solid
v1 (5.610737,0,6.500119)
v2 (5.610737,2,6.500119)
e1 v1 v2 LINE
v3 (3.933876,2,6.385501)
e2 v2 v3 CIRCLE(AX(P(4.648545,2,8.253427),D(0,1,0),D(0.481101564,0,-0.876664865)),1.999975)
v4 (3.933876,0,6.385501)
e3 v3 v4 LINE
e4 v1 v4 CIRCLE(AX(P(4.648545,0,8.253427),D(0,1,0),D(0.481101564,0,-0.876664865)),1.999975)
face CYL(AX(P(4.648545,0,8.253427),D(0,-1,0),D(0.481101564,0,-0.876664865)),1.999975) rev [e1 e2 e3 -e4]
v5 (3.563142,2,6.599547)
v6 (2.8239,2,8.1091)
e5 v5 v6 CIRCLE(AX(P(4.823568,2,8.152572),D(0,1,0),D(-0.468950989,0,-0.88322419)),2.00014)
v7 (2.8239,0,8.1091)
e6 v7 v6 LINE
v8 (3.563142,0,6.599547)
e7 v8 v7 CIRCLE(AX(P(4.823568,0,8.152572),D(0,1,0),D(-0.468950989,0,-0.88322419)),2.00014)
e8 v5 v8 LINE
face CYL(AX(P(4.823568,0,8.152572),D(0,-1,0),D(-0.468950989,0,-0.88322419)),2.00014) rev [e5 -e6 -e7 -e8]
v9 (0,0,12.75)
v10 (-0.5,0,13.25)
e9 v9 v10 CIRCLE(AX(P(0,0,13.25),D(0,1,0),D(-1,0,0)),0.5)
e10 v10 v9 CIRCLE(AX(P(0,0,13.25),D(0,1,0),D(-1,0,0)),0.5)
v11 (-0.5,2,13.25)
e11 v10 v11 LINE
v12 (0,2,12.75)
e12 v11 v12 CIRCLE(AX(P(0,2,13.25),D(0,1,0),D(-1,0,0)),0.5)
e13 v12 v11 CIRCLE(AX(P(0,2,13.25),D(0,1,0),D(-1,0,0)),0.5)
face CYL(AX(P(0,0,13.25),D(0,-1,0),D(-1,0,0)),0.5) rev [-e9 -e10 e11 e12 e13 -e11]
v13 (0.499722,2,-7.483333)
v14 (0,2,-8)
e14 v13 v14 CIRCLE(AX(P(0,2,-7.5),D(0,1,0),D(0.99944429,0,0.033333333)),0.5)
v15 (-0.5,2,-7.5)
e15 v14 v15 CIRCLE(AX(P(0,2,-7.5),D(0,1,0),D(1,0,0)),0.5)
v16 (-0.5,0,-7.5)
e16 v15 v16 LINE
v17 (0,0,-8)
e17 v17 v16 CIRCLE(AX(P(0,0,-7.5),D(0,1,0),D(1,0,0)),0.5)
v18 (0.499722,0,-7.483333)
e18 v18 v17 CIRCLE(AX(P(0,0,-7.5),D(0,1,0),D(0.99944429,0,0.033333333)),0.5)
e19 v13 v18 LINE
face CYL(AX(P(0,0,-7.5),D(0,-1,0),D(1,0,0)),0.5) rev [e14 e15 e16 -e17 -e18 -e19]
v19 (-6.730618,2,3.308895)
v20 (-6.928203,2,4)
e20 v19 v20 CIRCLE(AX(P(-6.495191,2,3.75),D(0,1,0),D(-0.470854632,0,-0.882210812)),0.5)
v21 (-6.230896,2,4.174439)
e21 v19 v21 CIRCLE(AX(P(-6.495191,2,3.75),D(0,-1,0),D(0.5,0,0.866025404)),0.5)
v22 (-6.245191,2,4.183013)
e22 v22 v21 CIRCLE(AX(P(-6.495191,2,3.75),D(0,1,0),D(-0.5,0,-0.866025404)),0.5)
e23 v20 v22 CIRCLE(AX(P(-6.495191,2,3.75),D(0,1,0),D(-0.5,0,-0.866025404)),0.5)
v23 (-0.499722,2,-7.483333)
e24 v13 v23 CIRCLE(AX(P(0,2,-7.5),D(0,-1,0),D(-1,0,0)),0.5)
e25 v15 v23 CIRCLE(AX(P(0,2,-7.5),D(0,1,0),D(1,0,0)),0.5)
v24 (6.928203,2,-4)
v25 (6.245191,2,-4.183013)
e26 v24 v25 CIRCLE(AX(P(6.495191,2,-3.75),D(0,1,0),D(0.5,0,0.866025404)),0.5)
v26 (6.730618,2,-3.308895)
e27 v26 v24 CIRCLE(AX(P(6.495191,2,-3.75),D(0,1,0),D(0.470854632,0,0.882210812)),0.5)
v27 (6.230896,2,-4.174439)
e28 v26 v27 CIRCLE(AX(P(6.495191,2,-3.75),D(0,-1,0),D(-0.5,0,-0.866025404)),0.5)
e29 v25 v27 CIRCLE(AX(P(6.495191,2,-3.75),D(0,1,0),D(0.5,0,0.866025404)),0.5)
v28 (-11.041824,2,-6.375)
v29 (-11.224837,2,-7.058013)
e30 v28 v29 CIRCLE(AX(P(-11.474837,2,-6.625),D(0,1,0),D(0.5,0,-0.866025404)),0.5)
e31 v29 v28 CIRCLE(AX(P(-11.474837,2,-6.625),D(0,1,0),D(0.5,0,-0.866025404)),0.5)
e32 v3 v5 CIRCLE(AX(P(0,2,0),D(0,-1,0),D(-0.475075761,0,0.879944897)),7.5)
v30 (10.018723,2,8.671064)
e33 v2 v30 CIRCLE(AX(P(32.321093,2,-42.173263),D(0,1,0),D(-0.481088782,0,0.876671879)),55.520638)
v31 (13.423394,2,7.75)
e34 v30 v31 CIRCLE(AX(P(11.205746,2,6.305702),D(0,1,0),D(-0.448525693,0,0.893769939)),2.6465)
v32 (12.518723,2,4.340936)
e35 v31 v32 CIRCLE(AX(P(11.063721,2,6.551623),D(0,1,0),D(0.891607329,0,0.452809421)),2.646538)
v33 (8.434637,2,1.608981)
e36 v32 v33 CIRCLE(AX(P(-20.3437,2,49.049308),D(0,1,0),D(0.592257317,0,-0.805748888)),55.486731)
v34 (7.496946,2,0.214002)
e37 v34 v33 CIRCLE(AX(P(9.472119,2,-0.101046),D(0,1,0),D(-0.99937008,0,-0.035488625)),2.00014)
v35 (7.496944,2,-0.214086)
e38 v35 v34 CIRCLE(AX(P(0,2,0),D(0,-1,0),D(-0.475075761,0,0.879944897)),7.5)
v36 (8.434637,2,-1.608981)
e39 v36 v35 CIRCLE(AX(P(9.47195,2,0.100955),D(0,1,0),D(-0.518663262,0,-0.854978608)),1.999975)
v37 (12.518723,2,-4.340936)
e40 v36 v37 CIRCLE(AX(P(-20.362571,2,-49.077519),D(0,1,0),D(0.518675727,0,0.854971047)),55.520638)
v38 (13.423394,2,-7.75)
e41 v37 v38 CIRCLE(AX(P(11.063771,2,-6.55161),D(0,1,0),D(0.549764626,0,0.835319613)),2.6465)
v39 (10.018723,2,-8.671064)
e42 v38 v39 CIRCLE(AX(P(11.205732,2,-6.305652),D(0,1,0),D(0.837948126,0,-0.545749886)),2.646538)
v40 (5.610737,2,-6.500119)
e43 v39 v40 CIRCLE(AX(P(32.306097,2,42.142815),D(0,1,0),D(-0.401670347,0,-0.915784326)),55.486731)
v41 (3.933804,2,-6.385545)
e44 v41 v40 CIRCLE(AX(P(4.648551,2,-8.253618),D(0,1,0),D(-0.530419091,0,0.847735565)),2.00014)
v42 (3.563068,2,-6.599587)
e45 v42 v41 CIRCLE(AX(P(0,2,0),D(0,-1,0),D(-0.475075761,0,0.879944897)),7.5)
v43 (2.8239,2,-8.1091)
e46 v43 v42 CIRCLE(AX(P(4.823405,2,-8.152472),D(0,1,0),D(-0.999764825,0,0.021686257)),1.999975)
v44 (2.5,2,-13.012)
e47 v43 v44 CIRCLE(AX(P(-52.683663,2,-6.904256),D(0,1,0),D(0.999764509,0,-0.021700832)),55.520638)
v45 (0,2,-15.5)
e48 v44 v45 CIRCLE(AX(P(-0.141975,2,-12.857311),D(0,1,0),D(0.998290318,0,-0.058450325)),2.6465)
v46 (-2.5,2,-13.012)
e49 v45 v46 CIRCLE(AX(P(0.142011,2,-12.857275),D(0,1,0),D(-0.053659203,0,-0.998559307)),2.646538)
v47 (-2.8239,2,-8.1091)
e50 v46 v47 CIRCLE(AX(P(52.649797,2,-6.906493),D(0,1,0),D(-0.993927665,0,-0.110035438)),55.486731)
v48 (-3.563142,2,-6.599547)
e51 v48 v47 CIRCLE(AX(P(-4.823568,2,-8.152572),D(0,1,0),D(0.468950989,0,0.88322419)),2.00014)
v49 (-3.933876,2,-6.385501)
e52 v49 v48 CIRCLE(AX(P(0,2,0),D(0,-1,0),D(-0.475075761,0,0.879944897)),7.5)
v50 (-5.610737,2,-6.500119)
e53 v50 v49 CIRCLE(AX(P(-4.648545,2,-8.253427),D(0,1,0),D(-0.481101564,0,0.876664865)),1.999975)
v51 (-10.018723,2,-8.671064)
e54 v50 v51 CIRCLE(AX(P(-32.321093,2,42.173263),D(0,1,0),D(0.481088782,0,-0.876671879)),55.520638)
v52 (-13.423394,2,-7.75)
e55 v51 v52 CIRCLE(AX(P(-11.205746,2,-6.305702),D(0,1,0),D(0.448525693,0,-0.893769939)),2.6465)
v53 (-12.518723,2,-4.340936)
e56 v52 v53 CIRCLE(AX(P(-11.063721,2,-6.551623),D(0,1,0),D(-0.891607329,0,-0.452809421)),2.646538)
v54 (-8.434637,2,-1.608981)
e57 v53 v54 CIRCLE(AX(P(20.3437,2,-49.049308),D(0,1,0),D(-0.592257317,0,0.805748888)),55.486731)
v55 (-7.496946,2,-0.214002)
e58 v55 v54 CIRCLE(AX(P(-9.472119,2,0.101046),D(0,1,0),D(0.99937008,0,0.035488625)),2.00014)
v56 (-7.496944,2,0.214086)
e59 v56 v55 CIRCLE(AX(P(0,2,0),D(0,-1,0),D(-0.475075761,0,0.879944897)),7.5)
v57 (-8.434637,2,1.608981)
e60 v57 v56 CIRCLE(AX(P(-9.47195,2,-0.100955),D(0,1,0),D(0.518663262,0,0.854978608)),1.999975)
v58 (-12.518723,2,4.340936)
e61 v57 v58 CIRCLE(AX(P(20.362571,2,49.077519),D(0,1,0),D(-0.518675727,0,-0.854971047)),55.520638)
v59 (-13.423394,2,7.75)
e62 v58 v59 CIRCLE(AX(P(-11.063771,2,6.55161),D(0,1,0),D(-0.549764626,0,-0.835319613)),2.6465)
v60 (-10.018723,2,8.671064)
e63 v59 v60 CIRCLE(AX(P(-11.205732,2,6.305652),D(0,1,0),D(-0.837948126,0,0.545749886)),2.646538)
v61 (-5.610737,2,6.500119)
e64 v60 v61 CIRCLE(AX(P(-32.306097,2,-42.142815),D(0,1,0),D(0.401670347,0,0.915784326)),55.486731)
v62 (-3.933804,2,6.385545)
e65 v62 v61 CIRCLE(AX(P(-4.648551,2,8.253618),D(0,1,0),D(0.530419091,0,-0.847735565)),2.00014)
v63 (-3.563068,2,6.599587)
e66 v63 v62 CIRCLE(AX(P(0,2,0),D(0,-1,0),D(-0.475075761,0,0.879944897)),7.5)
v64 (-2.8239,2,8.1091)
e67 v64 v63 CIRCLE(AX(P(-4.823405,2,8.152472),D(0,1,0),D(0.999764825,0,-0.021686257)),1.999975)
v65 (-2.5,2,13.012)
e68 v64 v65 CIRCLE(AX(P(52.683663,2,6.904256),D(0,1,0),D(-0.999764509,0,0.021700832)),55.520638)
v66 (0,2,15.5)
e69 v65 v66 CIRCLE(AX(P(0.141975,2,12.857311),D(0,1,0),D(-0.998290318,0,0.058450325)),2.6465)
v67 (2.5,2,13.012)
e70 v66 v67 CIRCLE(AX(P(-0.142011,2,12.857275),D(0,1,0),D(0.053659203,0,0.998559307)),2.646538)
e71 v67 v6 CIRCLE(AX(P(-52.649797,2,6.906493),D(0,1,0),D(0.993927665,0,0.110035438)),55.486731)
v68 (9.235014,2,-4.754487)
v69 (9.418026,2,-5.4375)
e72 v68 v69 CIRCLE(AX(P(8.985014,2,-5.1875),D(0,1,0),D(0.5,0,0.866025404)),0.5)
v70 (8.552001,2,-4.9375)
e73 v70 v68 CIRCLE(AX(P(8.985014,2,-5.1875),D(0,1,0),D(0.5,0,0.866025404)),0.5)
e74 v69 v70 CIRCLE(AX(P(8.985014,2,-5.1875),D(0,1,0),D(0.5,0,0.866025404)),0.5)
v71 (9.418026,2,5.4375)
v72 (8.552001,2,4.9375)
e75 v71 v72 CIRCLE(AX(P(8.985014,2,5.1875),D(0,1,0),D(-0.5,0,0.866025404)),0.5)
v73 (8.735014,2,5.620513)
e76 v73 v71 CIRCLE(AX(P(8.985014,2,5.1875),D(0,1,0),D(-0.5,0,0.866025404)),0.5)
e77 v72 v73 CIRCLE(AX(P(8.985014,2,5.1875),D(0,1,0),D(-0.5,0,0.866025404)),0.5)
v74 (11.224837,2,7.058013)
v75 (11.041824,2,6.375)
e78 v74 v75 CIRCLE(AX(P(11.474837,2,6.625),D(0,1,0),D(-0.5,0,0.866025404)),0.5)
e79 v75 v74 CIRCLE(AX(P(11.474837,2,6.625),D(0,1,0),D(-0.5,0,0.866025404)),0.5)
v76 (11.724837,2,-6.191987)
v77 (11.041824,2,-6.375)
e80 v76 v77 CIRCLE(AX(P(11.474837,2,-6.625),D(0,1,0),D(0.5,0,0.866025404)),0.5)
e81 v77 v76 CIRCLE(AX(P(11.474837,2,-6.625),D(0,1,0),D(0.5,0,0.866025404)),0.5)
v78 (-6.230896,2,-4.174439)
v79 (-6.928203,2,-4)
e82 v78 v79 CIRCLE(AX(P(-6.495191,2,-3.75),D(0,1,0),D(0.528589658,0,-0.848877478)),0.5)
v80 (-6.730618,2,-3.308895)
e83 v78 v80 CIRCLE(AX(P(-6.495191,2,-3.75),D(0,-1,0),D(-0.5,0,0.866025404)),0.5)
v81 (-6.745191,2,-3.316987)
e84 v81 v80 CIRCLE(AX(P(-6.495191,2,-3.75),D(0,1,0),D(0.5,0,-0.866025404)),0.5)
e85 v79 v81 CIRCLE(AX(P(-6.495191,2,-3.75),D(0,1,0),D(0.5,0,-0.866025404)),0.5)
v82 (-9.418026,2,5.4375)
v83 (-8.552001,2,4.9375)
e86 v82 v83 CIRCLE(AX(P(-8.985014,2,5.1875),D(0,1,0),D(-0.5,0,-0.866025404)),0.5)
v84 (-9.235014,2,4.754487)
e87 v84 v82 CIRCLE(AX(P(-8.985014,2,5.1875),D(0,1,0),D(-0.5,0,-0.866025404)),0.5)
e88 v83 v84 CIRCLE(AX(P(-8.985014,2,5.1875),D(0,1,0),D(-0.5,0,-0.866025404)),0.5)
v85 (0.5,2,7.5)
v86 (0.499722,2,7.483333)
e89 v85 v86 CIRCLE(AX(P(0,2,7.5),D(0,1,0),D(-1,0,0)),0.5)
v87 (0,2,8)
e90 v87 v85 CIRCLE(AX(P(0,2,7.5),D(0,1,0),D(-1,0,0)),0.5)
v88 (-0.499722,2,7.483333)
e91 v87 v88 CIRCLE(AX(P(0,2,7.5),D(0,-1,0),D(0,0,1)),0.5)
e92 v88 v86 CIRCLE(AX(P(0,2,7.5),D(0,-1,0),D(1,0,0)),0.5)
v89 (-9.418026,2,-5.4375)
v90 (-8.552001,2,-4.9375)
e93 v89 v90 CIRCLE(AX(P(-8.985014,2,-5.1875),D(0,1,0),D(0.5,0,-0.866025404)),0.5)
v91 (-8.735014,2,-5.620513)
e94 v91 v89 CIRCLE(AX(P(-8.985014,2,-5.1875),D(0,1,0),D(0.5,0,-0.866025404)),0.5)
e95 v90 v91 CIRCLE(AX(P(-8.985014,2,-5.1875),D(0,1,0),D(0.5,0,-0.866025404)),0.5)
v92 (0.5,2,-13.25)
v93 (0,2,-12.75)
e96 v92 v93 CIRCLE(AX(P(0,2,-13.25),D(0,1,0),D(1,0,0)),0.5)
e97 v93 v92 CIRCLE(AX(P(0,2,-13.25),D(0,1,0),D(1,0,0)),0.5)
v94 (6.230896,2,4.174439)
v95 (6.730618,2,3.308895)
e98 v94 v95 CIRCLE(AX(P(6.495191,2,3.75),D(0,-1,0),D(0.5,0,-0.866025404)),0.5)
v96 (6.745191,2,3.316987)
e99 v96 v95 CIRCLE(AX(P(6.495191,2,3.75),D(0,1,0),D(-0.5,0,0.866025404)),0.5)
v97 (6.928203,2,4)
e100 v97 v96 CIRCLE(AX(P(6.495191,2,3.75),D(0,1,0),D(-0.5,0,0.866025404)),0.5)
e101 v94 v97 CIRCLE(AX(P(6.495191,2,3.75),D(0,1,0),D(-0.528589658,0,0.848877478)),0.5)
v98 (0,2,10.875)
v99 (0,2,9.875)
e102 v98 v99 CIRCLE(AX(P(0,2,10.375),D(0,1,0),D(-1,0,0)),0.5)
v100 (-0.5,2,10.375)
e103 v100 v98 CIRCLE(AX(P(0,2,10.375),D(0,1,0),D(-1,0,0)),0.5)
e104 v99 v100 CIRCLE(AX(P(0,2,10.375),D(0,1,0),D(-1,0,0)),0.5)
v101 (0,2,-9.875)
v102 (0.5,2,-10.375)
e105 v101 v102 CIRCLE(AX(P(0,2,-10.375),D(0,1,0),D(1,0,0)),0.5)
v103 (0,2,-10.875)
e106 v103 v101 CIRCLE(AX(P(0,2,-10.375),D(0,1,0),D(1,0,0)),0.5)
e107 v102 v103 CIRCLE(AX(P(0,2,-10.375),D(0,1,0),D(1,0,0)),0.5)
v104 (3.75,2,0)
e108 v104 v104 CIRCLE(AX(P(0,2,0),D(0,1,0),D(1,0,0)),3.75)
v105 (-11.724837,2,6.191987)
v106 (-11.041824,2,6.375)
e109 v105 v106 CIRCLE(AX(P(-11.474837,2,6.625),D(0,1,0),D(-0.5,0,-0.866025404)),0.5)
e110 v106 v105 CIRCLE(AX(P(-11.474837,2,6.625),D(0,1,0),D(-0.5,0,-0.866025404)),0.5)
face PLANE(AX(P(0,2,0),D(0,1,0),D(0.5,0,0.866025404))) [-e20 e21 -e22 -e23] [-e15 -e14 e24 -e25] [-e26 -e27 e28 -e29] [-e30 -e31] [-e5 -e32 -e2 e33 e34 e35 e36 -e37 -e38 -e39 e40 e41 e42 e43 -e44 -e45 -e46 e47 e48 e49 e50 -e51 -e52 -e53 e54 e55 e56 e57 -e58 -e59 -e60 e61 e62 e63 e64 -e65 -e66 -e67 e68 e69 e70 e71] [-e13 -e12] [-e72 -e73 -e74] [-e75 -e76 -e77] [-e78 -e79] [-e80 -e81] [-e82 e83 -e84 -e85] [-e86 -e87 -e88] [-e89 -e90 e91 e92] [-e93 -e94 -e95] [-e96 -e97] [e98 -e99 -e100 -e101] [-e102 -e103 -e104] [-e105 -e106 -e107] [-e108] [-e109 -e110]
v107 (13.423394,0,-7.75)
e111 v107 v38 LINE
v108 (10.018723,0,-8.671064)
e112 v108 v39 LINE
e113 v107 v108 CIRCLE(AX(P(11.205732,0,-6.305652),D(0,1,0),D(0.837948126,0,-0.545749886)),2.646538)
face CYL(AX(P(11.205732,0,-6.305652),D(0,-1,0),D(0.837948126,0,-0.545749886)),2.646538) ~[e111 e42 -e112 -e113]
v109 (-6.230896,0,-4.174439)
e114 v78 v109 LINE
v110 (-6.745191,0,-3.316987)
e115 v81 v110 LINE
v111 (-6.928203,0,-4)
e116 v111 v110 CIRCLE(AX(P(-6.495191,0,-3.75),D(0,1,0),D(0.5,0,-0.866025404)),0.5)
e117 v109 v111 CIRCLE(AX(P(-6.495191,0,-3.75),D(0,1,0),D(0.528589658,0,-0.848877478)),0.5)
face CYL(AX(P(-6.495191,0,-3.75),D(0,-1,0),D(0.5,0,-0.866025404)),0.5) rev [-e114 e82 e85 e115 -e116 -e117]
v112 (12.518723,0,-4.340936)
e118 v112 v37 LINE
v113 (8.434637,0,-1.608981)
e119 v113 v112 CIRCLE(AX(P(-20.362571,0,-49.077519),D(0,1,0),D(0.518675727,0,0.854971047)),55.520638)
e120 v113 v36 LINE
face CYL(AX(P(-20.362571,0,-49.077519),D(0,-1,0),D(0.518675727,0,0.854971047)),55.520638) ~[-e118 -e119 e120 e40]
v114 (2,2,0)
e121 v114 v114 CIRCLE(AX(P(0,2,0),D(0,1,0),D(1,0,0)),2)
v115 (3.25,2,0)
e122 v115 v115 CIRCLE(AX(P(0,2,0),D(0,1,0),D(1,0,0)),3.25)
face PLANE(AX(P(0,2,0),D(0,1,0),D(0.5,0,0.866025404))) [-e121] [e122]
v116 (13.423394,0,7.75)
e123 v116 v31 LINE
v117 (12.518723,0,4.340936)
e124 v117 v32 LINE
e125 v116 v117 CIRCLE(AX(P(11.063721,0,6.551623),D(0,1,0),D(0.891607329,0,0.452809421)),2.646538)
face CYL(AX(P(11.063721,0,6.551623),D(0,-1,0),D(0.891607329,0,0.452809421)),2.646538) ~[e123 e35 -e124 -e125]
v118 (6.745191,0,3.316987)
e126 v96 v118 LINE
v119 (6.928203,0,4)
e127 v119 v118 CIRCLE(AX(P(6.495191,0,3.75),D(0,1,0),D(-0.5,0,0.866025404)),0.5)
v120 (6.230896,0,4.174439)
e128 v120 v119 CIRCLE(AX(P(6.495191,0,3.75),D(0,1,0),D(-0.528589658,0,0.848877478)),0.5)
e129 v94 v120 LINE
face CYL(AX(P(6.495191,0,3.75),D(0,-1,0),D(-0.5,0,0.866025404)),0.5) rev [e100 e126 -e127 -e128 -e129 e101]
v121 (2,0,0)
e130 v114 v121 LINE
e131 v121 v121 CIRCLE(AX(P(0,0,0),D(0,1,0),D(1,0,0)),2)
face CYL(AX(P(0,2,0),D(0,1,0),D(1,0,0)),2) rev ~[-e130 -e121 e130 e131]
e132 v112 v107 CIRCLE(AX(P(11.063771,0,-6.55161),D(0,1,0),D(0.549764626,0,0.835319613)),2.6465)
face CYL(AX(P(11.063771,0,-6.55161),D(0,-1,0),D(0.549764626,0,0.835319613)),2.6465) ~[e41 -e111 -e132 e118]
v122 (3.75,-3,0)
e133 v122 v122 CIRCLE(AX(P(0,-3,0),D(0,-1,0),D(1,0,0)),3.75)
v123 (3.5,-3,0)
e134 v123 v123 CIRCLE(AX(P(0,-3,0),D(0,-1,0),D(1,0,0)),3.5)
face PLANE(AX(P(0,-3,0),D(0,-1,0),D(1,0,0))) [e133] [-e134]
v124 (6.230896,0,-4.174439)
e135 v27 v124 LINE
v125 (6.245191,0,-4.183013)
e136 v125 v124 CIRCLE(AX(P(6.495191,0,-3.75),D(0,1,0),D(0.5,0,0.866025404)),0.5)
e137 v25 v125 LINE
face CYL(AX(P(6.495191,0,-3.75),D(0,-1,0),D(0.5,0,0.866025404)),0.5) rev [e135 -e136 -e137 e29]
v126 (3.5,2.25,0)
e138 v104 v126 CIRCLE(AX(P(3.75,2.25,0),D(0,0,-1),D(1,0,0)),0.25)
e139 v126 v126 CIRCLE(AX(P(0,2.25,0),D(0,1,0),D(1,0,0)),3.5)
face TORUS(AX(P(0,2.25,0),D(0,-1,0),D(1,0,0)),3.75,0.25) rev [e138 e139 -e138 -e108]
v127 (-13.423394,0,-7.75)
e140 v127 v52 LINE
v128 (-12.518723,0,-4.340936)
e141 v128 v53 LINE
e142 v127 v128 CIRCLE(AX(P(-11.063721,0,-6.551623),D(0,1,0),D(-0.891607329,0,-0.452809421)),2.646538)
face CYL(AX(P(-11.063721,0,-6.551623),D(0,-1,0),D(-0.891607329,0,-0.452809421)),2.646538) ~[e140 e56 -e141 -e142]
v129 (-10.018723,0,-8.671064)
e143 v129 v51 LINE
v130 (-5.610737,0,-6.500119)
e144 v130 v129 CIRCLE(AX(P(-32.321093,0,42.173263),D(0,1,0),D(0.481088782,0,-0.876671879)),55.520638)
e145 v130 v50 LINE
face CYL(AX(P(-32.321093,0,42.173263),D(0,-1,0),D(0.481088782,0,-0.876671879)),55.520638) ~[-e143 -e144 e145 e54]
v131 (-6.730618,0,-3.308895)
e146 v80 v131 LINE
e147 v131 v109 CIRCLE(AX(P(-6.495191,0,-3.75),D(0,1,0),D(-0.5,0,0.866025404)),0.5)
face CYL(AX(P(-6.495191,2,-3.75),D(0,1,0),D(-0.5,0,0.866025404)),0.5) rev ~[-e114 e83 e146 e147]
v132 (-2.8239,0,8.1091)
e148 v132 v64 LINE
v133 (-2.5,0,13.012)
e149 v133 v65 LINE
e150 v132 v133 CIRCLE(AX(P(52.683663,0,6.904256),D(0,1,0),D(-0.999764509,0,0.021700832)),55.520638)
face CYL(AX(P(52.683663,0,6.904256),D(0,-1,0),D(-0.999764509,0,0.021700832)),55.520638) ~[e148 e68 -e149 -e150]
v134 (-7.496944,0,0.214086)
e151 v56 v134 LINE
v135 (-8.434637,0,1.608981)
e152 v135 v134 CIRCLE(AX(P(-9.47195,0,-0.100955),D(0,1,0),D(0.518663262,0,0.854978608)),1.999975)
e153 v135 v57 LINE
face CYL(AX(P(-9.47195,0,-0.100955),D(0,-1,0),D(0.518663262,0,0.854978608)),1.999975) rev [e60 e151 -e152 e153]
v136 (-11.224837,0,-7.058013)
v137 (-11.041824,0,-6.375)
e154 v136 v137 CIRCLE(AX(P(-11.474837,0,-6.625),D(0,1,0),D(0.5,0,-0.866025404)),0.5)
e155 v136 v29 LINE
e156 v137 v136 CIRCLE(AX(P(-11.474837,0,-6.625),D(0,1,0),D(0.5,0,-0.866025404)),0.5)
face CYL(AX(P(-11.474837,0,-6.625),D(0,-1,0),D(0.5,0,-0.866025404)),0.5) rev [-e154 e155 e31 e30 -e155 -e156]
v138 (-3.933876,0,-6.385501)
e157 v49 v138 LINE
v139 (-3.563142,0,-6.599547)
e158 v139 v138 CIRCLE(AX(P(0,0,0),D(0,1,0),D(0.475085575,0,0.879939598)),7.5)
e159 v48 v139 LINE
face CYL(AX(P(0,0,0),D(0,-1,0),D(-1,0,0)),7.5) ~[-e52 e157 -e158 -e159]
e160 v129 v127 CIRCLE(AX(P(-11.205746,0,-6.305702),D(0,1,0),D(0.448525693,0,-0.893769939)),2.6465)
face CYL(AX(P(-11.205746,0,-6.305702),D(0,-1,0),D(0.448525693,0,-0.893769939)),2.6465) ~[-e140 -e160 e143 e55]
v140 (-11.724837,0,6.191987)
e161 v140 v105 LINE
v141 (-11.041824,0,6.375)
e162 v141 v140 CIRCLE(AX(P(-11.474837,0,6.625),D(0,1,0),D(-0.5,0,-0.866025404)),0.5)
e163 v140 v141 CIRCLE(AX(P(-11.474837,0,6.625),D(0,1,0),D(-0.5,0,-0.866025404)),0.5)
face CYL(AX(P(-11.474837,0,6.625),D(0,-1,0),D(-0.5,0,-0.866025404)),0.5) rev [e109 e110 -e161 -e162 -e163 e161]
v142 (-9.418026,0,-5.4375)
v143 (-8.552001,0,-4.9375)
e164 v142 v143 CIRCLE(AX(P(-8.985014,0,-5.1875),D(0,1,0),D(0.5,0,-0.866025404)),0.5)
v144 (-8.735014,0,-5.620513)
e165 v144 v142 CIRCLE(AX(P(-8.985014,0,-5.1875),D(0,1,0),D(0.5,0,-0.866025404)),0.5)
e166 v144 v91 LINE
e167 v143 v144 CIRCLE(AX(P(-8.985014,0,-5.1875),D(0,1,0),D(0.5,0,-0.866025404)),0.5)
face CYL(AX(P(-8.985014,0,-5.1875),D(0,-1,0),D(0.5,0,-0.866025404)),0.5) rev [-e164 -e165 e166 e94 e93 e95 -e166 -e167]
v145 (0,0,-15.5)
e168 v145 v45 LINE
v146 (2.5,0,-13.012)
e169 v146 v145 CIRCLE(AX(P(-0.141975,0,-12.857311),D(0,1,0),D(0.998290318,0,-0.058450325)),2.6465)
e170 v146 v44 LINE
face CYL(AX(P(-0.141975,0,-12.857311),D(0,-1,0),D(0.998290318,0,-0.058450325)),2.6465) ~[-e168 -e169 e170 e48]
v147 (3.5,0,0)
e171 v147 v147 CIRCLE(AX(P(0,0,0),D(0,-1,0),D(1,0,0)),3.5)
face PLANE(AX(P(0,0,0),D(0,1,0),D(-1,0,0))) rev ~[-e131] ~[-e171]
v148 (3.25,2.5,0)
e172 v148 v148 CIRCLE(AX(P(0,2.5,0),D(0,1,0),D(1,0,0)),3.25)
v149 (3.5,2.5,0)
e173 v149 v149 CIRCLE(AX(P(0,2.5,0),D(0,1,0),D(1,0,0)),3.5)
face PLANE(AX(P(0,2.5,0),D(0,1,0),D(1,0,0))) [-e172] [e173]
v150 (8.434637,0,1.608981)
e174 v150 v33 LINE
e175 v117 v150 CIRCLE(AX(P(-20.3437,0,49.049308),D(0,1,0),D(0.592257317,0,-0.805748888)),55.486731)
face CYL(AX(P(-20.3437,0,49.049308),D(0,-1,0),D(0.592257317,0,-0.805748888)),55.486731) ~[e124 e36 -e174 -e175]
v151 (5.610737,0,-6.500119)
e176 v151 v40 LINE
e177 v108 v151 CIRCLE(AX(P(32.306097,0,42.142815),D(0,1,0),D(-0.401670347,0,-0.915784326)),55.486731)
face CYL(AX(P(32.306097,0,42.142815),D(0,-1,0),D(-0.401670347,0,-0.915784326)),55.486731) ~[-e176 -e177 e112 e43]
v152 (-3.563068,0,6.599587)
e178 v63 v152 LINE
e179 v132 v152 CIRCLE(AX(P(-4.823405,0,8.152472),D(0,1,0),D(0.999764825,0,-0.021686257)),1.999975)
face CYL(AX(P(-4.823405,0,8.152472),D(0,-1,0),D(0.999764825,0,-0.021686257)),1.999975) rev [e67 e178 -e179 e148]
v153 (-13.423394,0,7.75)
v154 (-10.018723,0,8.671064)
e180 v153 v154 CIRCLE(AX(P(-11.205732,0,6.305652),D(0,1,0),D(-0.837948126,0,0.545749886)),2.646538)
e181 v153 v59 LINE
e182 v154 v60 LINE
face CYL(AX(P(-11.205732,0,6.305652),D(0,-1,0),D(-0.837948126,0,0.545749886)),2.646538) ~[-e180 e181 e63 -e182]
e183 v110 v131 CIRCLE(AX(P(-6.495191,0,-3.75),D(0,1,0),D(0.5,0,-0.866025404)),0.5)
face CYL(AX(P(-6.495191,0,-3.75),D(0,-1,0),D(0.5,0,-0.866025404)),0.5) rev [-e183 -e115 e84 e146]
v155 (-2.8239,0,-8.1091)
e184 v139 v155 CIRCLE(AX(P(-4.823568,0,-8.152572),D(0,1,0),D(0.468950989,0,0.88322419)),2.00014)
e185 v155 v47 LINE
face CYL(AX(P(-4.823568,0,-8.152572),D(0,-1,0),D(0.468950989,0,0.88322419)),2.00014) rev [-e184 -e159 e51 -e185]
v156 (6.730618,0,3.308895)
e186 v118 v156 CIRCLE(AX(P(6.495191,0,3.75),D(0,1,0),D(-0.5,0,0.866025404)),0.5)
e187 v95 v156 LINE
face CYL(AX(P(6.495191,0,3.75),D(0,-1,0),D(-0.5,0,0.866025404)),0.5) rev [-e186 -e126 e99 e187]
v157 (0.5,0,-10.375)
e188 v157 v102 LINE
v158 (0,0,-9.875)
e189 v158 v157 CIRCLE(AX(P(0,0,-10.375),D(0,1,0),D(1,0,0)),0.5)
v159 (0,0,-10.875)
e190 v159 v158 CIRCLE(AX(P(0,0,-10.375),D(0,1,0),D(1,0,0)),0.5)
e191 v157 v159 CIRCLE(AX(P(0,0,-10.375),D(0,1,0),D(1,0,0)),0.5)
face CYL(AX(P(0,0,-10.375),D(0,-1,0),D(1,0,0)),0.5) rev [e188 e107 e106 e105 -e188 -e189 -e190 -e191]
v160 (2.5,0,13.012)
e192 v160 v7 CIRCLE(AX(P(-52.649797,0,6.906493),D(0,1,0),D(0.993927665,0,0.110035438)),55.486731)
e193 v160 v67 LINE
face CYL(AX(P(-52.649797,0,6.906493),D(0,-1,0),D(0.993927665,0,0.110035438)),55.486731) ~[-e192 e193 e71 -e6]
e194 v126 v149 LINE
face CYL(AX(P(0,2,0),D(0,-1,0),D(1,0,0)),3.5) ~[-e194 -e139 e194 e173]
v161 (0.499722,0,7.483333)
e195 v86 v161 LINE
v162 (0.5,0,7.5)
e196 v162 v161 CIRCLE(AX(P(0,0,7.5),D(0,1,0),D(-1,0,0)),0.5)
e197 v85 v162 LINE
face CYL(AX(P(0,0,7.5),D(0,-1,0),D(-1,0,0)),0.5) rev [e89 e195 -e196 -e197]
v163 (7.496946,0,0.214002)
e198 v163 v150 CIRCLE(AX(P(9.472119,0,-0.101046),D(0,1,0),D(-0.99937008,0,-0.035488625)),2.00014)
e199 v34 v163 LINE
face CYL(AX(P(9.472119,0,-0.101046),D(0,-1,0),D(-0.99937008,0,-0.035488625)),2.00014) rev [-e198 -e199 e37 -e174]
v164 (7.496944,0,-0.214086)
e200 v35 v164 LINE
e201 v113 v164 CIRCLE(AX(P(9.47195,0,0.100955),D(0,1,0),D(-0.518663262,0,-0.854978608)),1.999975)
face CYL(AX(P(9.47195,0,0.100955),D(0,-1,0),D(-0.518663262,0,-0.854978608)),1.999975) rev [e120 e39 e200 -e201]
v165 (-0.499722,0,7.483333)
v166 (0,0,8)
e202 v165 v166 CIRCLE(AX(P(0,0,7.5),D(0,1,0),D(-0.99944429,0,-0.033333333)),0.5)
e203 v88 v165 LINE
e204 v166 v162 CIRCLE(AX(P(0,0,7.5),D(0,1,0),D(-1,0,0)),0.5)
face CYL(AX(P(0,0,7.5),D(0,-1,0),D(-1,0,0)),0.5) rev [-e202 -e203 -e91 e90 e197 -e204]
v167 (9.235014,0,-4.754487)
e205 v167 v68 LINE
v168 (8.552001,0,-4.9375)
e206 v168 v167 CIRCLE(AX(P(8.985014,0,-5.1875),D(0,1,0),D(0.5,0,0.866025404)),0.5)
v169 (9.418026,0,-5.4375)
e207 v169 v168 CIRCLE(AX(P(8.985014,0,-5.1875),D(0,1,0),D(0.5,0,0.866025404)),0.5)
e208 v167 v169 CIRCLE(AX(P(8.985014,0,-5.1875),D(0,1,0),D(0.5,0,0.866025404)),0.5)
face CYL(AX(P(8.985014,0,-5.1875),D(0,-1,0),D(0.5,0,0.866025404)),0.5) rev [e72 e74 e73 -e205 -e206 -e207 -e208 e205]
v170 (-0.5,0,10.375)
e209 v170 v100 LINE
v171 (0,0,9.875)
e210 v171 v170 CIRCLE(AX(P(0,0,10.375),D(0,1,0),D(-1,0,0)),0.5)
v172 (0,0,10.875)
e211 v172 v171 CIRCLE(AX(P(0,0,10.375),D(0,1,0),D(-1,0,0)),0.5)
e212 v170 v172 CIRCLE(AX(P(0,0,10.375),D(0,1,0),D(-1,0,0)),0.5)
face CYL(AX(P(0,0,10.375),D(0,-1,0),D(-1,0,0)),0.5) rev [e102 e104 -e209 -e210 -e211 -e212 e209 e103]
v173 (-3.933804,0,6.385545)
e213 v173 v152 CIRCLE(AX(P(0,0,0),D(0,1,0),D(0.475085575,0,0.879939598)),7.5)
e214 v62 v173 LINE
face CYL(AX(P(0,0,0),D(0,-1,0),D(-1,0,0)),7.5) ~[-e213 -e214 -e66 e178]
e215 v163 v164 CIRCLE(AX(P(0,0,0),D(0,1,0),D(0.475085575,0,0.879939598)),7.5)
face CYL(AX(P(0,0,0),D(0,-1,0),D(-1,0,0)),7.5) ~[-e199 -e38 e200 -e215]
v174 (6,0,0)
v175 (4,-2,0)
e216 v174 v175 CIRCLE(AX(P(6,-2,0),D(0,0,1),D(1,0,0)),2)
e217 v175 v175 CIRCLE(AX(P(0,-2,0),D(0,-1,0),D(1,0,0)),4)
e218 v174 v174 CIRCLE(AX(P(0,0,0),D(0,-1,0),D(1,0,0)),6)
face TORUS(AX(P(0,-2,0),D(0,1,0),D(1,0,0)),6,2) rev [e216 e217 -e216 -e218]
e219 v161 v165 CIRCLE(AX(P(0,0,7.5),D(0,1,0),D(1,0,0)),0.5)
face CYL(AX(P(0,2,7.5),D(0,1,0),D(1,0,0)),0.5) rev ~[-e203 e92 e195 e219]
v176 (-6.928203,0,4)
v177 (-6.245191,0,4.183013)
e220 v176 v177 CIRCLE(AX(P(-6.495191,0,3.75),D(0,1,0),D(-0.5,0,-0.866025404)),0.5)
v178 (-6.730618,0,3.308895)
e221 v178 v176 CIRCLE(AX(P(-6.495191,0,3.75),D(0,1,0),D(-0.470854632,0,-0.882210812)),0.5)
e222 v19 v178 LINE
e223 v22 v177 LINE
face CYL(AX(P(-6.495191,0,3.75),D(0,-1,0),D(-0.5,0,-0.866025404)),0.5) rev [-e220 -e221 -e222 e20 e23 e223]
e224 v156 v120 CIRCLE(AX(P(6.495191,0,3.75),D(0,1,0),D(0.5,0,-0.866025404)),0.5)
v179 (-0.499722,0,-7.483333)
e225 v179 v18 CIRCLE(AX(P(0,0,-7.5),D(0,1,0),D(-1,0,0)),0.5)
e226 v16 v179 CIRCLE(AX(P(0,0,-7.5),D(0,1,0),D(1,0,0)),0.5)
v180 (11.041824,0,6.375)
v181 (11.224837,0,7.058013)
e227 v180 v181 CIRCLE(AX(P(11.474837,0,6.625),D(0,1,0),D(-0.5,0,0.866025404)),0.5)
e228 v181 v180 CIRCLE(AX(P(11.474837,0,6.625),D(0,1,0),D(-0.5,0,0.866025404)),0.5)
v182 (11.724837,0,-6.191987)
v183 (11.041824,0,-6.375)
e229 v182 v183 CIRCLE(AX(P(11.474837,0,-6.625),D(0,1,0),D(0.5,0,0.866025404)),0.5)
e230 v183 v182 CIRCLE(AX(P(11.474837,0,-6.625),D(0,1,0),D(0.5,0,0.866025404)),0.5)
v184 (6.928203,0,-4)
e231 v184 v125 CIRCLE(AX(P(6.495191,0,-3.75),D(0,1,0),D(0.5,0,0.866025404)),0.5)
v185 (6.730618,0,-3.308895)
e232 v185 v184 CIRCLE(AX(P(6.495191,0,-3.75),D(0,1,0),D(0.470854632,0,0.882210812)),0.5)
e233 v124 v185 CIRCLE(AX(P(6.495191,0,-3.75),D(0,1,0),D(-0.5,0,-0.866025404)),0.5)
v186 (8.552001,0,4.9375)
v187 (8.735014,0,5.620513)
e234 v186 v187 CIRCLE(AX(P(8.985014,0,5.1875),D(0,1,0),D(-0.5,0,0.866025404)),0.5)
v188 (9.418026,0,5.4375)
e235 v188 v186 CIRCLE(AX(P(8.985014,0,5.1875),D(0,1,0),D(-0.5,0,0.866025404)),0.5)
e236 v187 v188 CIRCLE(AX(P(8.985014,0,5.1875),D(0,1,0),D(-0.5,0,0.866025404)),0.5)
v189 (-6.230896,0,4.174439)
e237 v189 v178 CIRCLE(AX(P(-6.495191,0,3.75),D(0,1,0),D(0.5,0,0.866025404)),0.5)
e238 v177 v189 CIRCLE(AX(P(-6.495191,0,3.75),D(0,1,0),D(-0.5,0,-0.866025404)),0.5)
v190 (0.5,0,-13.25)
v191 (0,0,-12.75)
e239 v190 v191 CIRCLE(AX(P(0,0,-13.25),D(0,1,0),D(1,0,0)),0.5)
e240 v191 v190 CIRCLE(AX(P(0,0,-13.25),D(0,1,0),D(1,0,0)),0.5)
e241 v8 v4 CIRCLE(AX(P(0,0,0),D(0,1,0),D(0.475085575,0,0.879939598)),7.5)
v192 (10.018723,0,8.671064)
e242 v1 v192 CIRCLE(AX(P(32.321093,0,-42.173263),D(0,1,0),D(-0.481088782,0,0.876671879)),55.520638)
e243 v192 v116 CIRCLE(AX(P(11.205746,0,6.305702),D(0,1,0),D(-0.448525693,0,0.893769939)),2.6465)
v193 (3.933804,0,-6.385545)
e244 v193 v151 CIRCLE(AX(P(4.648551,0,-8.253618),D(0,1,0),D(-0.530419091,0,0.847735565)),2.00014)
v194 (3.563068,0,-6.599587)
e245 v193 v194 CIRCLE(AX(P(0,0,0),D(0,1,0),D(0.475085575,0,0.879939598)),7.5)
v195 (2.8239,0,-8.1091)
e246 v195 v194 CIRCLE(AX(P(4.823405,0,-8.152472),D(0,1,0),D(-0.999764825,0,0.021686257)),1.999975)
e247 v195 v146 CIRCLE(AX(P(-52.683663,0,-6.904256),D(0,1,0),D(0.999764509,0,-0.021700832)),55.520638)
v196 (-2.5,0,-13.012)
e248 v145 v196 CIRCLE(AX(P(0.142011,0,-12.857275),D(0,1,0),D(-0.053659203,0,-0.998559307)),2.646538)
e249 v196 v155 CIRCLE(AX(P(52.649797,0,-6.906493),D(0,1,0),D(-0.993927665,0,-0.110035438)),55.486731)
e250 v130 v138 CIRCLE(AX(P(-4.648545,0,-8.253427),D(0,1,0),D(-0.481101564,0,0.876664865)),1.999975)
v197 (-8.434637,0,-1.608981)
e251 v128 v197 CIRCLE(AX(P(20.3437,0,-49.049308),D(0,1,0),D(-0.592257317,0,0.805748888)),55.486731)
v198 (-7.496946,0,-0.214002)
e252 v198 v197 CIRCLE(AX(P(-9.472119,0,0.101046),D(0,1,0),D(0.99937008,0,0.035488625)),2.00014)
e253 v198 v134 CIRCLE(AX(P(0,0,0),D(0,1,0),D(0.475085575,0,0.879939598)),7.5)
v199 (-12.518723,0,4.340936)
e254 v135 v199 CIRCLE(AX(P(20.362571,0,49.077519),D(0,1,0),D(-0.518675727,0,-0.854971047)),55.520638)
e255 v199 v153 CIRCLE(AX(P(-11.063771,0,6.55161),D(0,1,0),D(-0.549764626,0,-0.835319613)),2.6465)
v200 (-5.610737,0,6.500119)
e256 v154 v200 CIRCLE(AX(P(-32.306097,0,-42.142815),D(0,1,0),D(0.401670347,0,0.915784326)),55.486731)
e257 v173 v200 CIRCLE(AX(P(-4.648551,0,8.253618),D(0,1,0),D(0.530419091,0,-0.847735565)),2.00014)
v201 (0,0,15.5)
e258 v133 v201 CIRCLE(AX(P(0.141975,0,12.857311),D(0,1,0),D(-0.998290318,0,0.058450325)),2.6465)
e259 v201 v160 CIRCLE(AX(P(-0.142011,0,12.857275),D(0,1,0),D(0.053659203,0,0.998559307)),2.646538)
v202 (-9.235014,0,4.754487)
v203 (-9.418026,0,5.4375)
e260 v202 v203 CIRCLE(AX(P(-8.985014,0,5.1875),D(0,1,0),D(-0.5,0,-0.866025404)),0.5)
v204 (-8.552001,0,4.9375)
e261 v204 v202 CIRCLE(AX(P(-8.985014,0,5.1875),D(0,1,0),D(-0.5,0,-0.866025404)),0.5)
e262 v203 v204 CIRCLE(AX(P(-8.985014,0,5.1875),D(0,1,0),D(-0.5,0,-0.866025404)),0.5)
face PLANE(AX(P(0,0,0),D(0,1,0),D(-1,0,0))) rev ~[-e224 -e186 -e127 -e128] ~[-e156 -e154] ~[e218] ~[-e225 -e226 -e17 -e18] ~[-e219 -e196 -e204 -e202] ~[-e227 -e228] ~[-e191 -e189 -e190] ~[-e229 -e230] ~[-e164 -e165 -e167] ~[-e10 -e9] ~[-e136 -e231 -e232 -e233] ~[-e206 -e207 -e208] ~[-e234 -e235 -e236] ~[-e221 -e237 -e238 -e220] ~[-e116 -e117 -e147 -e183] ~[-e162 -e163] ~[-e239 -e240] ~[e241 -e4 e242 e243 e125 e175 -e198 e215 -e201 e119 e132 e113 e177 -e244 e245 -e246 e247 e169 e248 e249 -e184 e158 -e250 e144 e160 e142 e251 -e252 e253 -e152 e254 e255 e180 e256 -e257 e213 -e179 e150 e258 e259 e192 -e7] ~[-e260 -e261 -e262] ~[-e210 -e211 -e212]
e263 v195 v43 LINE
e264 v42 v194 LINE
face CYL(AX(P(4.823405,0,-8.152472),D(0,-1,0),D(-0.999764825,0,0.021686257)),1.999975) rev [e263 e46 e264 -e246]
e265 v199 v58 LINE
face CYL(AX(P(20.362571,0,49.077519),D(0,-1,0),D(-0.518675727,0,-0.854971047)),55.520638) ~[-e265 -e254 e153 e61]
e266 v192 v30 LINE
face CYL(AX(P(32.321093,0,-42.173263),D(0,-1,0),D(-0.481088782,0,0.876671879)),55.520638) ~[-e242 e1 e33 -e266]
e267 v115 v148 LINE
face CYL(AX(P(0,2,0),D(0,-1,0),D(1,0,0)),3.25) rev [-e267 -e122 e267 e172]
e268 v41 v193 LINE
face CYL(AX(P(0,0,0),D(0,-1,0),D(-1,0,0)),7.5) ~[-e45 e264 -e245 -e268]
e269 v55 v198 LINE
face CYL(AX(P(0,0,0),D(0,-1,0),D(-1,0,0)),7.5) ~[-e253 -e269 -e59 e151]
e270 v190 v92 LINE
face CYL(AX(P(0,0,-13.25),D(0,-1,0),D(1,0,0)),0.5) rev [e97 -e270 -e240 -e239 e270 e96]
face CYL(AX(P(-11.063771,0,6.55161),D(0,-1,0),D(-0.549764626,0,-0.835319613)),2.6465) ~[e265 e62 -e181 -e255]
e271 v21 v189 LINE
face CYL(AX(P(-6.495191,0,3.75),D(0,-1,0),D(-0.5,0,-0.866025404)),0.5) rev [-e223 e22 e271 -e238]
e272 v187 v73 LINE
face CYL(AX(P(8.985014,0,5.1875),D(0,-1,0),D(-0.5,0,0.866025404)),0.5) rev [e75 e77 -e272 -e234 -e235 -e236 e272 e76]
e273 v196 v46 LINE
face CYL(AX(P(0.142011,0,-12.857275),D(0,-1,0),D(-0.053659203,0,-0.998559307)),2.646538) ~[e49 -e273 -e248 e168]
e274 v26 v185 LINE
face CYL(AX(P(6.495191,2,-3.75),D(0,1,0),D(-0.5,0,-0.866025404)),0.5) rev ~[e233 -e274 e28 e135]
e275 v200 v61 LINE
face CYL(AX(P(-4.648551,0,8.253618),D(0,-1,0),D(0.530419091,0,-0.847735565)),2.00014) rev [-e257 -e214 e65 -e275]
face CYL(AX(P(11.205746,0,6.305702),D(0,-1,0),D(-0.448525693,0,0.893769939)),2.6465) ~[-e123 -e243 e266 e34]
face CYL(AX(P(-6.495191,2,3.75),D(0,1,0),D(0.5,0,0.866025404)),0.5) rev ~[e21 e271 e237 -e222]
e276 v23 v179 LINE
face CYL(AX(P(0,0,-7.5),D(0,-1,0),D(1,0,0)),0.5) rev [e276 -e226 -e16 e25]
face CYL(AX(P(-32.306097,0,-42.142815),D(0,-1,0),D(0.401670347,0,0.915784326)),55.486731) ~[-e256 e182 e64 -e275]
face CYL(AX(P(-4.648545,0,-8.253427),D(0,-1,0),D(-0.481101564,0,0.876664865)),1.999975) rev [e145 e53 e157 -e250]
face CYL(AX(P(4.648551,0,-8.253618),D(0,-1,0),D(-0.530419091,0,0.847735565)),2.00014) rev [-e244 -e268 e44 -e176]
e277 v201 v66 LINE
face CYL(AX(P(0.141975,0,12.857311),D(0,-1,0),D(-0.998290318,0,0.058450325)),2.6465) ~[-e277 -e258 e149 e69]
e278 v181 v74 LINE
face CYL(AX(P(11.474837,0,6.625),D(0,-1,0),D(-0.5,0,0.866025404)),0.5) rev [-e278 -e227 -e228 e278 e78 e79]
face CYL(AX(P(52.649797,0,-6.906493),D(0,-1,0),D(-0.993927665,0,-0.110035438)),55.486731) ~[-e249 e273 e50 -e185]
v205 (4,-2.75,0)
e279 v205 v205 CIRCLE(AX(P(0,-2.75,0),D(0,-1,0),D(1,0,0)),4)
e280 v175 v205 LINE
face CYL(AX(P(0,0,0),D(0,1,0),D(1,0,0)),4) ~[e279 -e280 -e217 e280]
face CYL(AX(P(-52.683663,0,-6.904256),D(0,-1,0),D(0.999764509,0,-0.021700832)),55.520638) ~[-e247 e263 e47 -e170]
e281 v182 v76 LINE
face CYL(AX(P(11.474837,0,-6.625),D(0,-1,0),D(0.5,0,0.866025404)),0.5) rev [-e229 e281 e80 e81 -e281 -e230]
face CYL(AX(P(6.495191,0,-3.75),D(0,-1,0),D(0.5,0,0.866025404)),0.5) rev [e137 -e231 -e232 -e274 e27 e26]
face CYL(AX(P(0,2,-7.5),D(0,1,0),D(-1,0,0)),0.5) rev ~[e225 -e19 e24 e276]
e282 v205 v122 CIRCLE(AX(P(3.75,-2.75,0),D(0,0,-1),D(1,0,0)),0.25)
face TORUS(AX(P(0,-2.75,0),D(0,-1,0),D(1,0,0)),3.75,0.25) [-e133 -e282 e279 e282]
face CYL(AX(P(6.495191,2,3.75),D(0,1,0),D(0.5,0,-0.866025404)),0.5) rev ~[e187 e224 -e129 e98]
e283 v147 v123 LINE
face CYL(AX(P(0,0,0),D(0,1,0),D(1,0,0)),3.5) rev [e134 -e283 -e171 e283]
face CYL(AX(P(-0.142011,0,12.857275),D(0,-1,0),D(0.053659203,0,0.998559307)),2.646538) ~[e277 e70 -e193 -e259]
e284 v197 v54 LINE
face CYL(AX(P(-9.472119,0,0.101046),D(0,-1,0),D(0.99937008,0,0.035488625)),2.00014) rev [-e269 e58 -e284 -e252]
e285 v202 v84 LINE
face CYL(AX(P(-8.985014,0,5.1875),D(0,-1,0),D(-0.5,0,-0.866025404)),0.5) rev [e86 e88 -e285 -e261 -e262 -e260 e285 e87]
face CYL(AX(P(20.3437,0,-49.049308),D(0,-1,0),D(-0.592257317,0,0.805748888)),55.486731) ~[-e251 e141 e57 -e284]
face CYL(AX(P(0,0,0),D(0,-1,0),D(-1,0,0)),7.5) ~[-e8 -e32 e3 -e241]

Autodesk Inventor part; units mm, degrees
ref_plane "YZ Plane" through (0, 0, 0) normal (1, 0, 0) x (0, 1, 0)
ref_plane "XZ Plane" through (0, 0, 0) normal (0, 1, 0) x (-1, 0, 0)
ref_plane "XY Plane" through (0, 0, 0) normal (0, 0, 1) x (1, 0, 0)
sketch "Szkic1" plane through (0, 0, 0) normal (0, 1, 0) x (-1, 0, 0)
  circle A0 centre (0, 0) radius 3.5
  line L0 (0, 0) -> (2.5, 0)
  line L1 (2.5, 0) -> (-2.5, 0)
  arc A1 (2.5, 13.012) -> (0, 15.5) centre (-0.142, 12.8573) ccw
  arc A2 (2.8239, 8.1091) -> (2.5, 13.012) centre (-52.6667, 6.905) ccw
  arc A3 (0, 15.5) -> (-2.5, 13.012) centre (0.142, 12.8573) ccw
  arc A4 (-2.5, 13.012) -> (-2.8239, 8.1091) centre (52.6667, 6.905) ccw
  circle A5 centre (0, 13.25) radius 0.5
  line L2 (3.8856, 6.386) -> (4.1618, 6.2393)
  arc A6 (2.8239, 8.1091) -> (3.8856, 6.386) centre (4.8235, 8.1525) ccw
  line L3 (-3.8856, 6.386) -> (-4.1618, 6.2393)
  arc A7 (-3.8856, 6.386) -> (-2.8239, 8.1091) centre (-4.8235, 8.1525) ccw
  line L4 (-4.1618, 6.2393) -> (4.1618, 6.2393)
  line L5 (0, 0) -> (0, 7.5)
  circle A8 centre (0, 7.5) radius 0.5
  line L6 (0, 13.25) -> (0, 7.5)
  circle A9 centre (0, 10.375) radius 0.5
  point P0 (2.837, 6.9427)
  point P1 (-2.837, 6.9427)
  dimension "d0" = 7
  dimension "d4" = 2.5
  dimension "d5" = 5
  dimension "d6" = 1
  dimension "d8" = 1.5
  dimension "d9" = 2
  dimension "d10" = 1.5
  dimension "d11" = 2
  dimension "d15" = 7.5
  dimension "d16" = 1
  dimension "d17" = 1
sketch "Szkic2" plane through (0, 0, 0) normal (0, 1, 0) x (-1, 0, 0)
  circle A0 centre (0, 0) radius 7.5
  dimension "d12" = 15
extrude "Wyciągnięcie proste1" add sketch "Szkic2" along normal blind 2
extrude "Wyciągnięcie proste2" add sketch "Szkic1" along normal blind 2 contours L4 L3 A7 A4 A3 A1 A2 A6 L2
pattern_circular "Szyk kołowy1" count 6 over 360 about axis through (0, 2, 0) along (0, 1, 0) of "Wyciągnięcie proste2"
sketch "Szkic3" plane through (0, 2, 0) normal (0, 1, 0) x (1, 0, 0)
  arc A0 (-0.4997, -7.4833) -> (0.4997, -7.4833) centre (0, 0) ccw projected
  circle A1 centre (0, -7.5) radius 0.5
  dimension "d23" = 1
extrude "Wyciągnięcie proste3" cut sketch "Szkic3" against normal blind 2
pattern_circular "Szyk kołowy2" count 6 over 360 about axis through (0, 2, 0) along (0, 1, 0) of "Wyciągnięcie proste3"
sketch "Szkic4" plane through (0, 2, 0) normal (0, 1, 0) x (1, 0, 0)
  circle A0 centre (0, 0) radius 3.5
  circle A1 centre (0, 0) radius 3.25
  dimension "d29" = 7
  dimension "d30" = 6.5
extrude "Wyciągnięcie proste4" add sketch "Szkic4" along normal blind 0.5
sketch "Szkic5" plane through (0, 2, 0) normal (0, 1, 0) x (1, 0, 0)
  circle A0 centre (0, 0) radius 2
  dimension "d33" = 4
extrude "Wyciągnięcie proste5" cut sketch "Szkic5" against normal blind 2
sketch "Szkic6" plane through (0, 0, 0) normal (0, -1, 0) x (1, 0, 0)
  circle A0 centre (0, 0) radius 4
  circle A1 centre (0, 0) radius 3.5
  dimension "d36" = 8
  dimension "d37" = 7
extrude "Wyciągnięcie proste6" add sketch "Szkic6" along normal blind 3
fillet "Zaokrąglenie1" radius 2 1 edges at (-4, 0, 0)
fillet "Zaokrąglenie2" radius 0.25 1 edges at (-4, -3, 0)
fillet "Zaokrąglenie3" radius 0.25 1 edges at (-3.5, 2, 0)
sketch "Sketch7" plane through (0, 2, 0) normal (0, 1, 0) x (1, 0, 0)
  circle A0 centre (-6.4952, -3.75) radius 0.5 projected
  circle A1 centre (-6.4952, 3.75) radius 0.5 projected
  circle A2 centre (0, 7.5) radius 0.5 projected
  circle A3 centre (6.4952, 3.75) radius 0.5 projected
  circle A4 centre (6.4952, -3.75) radius 0.5 projected
  circle A5 centre (0, -7.5) radius 0.5 projected
  circle A6 centre (-11.4748, 6.625) radius 0.5 projected
  circle A7 centre (-8.985, 5.1875) radius 0.5 projected
  arc A8 (-5.6107, 6.5001) -> (-3.9339, 6.3855) centre (-4.6485, 8.2535) ccw projected
  arc A9 (-5.6107, 6.5001) -> (-10.0187, 8.6711) centre (-32.3132, -42.1582) ccw projected
  arc A10 (-10.0187, 8.6711) -> (-13.4234, 7.75) centre (-11.2058, 6.3057) ccw projected
  arc A11 (-13.4234, 7.75) -> (-12.5187, 4.3409) centre (-11.0638, 6.5516) ccw projected
  arc A12 (-12.5187, 4.3409) -> (-8.4346, 1.6089) centre (20.3535, 49.0631) ccw projected
  arc A13 (-7.4969, 0.2141) -> (-8.4346, 1.6089) centre (-9.472, -0.101) ccw projected
  arc A14 (-7.4969, 0.2141) -> (-7.4969, -0.2141) centre (0, 0) ccw projected
  arc A15 (-8.4346, -1.6089) -> (-7.4969, -0.2141) centre (-9.472, 0.101) ccw projected
  arc A16 (-8.4346, -1.6089) -> (-12.5187, -4.3409) centre (20.3535, -49.0631) ccw projected
  arc A17 (-12.5187, -4.3409) -> (-13.4234, -7.75) centre (-11.0638, -6.5516) ccw projected
  arc A18 (-13.4234, -7.75) -> (-10.0187, -8.6711) centre (-11.2058, -6.3057) ccw projected
  arc A19 (-10.0187, -8.6711) -> (-5.6107, -6.5001) centre (-32.3132, 42.1582) ccw projected
  arc A20 (-3.9339, -6.3855) -> (-5.6107, -6.5001) centre (-4.6485, -8.2535) ccw projected
  arc A21 (-3.9339, -6.3855) -> (-3.5631, -6.5996) centre (0, 0) ccw projected
  arc A22 (-2.8239, -8.1091) -> (-3.5631, -6.5996) centre (-4.8235, -8.1525) ccw projected
  arc A23 (-2.8239, -8.1091) -> (-2.5, -13.012) centre (52.6667, -6.905) ccw projected
  arc A24 (-2.5, -13.012) -> (0, -15.5) centre (0.142, -12.8573) ccw projected
  arc A25 (0, -15.5) -> (2.5, -13.012) centre (-0.142, -12.8573) ccw projected
  arc A26 (2.5, -13.012) -> (2.8239, -8.1091) centre (-52.6667, -6.905) ccw projected
  arc A27 (3.5631, -6.5996) -> (2.8239, -8.1091) centre (4.8235, -8.1525) ccw projected
  arc A28 (3.5631, -6.5996) -> (3.9339, -6.3855) centre (0, 0) ccw projected
  arc A29 (5.6107, -6.5001) -> (3.9339, -6.3855) centre (4.6485, -8.2535) ccw projected
  arc A30 (5.6107, -6.5001) -> (10.0187, -8.6711) centre (32.3132, 42.1582) ccw projected
  arc A31 (10.0187, -8.6711) -> (13.4234, -7.75) centre (11.2058, -6.3057) ccw projected
  arc A32 (13.4234, -7.75) -> (12.5187, -4.3409) centre (11.0638, -6.5516) ccw projected
  arc A33 (12.5187, -4.3409) -> (8.4346, -1.6089) centre (-20.3535, -49.0631) ccw projected
  arc A34 (7.4969, -0.2141) -> (8.4346, -1.6089) centre (9.472, 0.101) ccw projected
  arc A35 (7.4969, -0.2141) -> (7.4969, 0.2141) centre (0, 0) ccw projected
  arc A36 (8.4346, 1.6089) -> (7.4969, 0.2141) centre (9.472, -0.101) ccw projected
  arc A37 (8.4346, 1.6089) -> (12.5187, 4.3409) centre (-20.3535, 49.0631) ccw projected
  arc A38 (12.5187, 4.3409) -> (13.4234, 7.75) centre (11.0638, 6.5516) ccw projected
  arc A39 (13.4234, 7.75) -> (10.0187, 8.6711) centre (11.2058, 6.3057) ccw projected
  arc A40 (10.0187, 8.6711) -> (5.6107, 6.5001) centre (32.3132, -42.1582) ccw projected
  arc A41 (3.9339, 6.3855) -> (5.6107, 6.5001) centre (4.6485, 8.2535) ccw projected
  arc A42 (3.9339, 6.3855) -> (3.5631, 6.5996) centre (0, 0) ccw projected
  arc A43 (2.8239, 8.1091) -> (3.5631, 6.5996) centre (4.8235, 8.1525) ccw projected
  arc A44 (2.8239, 8.1091) -> (2.5, 13.012) centre (-52.6667, 6.905) ccw projected
  arc A45 (2.5, 13.012) -> (0, 15.5) centre (-0.142, 12.8573) ccw projected
  arc A46 (0, 15.5) -> (-2.5, 13.012) centre (0.142, 12.8573) ccw projected
  arc A47 (-2.5, 13.012) -> (-2.8239, 8.1091) centre (52.6667, 6.905) ccw projected
  arc A48 (-3.5631, 6.5996) -> (-2.8239, 8.1091) centre (-4.8235, 8.1525) ccw projected
  arc A49 (-3.5631, 6.5996) -> (-3.9339, 6.3855) centre (0, 0) ccw projected
  circle A50 centre (0, 13.25) radius 0.5 projected
  circle A51 centre (0, 10.375) radius 0.5 projected
  circle A52 centre (-8.985, -5.1875) radius 0.5 projected
  circle A53 centre (-11.4748, -6.625) radius 0.5 projected
  circle A54 centre (11.4748, 6.625) radius 0.5 projected
  circle A55 centre (8.985, 5.1875) radius 0.5 projected
  circle A56 centre (8.985, -5.1875) radius 0.5 projected
  circle A57 centre (11.4748, -6.625) radius 0.5 projected
  circle A58 centre (0, -13.25) radius 0.5 projected
  circle A59 centre (0, -10.375) radius 0.5 projected
  circle A60 centre (0, 0) radius 3.75 projected
  arc A61 (10.0187, -8.6711) -> (13.4234, -7.75) centre (11.2058, -6.3057) ccw projected
  arc A62 (0, -15.5) -> (2.5, -13.012) centre (-0.142, -12.8573) ccw projected
properties part number "Sevo arm TowerPro SG-5010"
